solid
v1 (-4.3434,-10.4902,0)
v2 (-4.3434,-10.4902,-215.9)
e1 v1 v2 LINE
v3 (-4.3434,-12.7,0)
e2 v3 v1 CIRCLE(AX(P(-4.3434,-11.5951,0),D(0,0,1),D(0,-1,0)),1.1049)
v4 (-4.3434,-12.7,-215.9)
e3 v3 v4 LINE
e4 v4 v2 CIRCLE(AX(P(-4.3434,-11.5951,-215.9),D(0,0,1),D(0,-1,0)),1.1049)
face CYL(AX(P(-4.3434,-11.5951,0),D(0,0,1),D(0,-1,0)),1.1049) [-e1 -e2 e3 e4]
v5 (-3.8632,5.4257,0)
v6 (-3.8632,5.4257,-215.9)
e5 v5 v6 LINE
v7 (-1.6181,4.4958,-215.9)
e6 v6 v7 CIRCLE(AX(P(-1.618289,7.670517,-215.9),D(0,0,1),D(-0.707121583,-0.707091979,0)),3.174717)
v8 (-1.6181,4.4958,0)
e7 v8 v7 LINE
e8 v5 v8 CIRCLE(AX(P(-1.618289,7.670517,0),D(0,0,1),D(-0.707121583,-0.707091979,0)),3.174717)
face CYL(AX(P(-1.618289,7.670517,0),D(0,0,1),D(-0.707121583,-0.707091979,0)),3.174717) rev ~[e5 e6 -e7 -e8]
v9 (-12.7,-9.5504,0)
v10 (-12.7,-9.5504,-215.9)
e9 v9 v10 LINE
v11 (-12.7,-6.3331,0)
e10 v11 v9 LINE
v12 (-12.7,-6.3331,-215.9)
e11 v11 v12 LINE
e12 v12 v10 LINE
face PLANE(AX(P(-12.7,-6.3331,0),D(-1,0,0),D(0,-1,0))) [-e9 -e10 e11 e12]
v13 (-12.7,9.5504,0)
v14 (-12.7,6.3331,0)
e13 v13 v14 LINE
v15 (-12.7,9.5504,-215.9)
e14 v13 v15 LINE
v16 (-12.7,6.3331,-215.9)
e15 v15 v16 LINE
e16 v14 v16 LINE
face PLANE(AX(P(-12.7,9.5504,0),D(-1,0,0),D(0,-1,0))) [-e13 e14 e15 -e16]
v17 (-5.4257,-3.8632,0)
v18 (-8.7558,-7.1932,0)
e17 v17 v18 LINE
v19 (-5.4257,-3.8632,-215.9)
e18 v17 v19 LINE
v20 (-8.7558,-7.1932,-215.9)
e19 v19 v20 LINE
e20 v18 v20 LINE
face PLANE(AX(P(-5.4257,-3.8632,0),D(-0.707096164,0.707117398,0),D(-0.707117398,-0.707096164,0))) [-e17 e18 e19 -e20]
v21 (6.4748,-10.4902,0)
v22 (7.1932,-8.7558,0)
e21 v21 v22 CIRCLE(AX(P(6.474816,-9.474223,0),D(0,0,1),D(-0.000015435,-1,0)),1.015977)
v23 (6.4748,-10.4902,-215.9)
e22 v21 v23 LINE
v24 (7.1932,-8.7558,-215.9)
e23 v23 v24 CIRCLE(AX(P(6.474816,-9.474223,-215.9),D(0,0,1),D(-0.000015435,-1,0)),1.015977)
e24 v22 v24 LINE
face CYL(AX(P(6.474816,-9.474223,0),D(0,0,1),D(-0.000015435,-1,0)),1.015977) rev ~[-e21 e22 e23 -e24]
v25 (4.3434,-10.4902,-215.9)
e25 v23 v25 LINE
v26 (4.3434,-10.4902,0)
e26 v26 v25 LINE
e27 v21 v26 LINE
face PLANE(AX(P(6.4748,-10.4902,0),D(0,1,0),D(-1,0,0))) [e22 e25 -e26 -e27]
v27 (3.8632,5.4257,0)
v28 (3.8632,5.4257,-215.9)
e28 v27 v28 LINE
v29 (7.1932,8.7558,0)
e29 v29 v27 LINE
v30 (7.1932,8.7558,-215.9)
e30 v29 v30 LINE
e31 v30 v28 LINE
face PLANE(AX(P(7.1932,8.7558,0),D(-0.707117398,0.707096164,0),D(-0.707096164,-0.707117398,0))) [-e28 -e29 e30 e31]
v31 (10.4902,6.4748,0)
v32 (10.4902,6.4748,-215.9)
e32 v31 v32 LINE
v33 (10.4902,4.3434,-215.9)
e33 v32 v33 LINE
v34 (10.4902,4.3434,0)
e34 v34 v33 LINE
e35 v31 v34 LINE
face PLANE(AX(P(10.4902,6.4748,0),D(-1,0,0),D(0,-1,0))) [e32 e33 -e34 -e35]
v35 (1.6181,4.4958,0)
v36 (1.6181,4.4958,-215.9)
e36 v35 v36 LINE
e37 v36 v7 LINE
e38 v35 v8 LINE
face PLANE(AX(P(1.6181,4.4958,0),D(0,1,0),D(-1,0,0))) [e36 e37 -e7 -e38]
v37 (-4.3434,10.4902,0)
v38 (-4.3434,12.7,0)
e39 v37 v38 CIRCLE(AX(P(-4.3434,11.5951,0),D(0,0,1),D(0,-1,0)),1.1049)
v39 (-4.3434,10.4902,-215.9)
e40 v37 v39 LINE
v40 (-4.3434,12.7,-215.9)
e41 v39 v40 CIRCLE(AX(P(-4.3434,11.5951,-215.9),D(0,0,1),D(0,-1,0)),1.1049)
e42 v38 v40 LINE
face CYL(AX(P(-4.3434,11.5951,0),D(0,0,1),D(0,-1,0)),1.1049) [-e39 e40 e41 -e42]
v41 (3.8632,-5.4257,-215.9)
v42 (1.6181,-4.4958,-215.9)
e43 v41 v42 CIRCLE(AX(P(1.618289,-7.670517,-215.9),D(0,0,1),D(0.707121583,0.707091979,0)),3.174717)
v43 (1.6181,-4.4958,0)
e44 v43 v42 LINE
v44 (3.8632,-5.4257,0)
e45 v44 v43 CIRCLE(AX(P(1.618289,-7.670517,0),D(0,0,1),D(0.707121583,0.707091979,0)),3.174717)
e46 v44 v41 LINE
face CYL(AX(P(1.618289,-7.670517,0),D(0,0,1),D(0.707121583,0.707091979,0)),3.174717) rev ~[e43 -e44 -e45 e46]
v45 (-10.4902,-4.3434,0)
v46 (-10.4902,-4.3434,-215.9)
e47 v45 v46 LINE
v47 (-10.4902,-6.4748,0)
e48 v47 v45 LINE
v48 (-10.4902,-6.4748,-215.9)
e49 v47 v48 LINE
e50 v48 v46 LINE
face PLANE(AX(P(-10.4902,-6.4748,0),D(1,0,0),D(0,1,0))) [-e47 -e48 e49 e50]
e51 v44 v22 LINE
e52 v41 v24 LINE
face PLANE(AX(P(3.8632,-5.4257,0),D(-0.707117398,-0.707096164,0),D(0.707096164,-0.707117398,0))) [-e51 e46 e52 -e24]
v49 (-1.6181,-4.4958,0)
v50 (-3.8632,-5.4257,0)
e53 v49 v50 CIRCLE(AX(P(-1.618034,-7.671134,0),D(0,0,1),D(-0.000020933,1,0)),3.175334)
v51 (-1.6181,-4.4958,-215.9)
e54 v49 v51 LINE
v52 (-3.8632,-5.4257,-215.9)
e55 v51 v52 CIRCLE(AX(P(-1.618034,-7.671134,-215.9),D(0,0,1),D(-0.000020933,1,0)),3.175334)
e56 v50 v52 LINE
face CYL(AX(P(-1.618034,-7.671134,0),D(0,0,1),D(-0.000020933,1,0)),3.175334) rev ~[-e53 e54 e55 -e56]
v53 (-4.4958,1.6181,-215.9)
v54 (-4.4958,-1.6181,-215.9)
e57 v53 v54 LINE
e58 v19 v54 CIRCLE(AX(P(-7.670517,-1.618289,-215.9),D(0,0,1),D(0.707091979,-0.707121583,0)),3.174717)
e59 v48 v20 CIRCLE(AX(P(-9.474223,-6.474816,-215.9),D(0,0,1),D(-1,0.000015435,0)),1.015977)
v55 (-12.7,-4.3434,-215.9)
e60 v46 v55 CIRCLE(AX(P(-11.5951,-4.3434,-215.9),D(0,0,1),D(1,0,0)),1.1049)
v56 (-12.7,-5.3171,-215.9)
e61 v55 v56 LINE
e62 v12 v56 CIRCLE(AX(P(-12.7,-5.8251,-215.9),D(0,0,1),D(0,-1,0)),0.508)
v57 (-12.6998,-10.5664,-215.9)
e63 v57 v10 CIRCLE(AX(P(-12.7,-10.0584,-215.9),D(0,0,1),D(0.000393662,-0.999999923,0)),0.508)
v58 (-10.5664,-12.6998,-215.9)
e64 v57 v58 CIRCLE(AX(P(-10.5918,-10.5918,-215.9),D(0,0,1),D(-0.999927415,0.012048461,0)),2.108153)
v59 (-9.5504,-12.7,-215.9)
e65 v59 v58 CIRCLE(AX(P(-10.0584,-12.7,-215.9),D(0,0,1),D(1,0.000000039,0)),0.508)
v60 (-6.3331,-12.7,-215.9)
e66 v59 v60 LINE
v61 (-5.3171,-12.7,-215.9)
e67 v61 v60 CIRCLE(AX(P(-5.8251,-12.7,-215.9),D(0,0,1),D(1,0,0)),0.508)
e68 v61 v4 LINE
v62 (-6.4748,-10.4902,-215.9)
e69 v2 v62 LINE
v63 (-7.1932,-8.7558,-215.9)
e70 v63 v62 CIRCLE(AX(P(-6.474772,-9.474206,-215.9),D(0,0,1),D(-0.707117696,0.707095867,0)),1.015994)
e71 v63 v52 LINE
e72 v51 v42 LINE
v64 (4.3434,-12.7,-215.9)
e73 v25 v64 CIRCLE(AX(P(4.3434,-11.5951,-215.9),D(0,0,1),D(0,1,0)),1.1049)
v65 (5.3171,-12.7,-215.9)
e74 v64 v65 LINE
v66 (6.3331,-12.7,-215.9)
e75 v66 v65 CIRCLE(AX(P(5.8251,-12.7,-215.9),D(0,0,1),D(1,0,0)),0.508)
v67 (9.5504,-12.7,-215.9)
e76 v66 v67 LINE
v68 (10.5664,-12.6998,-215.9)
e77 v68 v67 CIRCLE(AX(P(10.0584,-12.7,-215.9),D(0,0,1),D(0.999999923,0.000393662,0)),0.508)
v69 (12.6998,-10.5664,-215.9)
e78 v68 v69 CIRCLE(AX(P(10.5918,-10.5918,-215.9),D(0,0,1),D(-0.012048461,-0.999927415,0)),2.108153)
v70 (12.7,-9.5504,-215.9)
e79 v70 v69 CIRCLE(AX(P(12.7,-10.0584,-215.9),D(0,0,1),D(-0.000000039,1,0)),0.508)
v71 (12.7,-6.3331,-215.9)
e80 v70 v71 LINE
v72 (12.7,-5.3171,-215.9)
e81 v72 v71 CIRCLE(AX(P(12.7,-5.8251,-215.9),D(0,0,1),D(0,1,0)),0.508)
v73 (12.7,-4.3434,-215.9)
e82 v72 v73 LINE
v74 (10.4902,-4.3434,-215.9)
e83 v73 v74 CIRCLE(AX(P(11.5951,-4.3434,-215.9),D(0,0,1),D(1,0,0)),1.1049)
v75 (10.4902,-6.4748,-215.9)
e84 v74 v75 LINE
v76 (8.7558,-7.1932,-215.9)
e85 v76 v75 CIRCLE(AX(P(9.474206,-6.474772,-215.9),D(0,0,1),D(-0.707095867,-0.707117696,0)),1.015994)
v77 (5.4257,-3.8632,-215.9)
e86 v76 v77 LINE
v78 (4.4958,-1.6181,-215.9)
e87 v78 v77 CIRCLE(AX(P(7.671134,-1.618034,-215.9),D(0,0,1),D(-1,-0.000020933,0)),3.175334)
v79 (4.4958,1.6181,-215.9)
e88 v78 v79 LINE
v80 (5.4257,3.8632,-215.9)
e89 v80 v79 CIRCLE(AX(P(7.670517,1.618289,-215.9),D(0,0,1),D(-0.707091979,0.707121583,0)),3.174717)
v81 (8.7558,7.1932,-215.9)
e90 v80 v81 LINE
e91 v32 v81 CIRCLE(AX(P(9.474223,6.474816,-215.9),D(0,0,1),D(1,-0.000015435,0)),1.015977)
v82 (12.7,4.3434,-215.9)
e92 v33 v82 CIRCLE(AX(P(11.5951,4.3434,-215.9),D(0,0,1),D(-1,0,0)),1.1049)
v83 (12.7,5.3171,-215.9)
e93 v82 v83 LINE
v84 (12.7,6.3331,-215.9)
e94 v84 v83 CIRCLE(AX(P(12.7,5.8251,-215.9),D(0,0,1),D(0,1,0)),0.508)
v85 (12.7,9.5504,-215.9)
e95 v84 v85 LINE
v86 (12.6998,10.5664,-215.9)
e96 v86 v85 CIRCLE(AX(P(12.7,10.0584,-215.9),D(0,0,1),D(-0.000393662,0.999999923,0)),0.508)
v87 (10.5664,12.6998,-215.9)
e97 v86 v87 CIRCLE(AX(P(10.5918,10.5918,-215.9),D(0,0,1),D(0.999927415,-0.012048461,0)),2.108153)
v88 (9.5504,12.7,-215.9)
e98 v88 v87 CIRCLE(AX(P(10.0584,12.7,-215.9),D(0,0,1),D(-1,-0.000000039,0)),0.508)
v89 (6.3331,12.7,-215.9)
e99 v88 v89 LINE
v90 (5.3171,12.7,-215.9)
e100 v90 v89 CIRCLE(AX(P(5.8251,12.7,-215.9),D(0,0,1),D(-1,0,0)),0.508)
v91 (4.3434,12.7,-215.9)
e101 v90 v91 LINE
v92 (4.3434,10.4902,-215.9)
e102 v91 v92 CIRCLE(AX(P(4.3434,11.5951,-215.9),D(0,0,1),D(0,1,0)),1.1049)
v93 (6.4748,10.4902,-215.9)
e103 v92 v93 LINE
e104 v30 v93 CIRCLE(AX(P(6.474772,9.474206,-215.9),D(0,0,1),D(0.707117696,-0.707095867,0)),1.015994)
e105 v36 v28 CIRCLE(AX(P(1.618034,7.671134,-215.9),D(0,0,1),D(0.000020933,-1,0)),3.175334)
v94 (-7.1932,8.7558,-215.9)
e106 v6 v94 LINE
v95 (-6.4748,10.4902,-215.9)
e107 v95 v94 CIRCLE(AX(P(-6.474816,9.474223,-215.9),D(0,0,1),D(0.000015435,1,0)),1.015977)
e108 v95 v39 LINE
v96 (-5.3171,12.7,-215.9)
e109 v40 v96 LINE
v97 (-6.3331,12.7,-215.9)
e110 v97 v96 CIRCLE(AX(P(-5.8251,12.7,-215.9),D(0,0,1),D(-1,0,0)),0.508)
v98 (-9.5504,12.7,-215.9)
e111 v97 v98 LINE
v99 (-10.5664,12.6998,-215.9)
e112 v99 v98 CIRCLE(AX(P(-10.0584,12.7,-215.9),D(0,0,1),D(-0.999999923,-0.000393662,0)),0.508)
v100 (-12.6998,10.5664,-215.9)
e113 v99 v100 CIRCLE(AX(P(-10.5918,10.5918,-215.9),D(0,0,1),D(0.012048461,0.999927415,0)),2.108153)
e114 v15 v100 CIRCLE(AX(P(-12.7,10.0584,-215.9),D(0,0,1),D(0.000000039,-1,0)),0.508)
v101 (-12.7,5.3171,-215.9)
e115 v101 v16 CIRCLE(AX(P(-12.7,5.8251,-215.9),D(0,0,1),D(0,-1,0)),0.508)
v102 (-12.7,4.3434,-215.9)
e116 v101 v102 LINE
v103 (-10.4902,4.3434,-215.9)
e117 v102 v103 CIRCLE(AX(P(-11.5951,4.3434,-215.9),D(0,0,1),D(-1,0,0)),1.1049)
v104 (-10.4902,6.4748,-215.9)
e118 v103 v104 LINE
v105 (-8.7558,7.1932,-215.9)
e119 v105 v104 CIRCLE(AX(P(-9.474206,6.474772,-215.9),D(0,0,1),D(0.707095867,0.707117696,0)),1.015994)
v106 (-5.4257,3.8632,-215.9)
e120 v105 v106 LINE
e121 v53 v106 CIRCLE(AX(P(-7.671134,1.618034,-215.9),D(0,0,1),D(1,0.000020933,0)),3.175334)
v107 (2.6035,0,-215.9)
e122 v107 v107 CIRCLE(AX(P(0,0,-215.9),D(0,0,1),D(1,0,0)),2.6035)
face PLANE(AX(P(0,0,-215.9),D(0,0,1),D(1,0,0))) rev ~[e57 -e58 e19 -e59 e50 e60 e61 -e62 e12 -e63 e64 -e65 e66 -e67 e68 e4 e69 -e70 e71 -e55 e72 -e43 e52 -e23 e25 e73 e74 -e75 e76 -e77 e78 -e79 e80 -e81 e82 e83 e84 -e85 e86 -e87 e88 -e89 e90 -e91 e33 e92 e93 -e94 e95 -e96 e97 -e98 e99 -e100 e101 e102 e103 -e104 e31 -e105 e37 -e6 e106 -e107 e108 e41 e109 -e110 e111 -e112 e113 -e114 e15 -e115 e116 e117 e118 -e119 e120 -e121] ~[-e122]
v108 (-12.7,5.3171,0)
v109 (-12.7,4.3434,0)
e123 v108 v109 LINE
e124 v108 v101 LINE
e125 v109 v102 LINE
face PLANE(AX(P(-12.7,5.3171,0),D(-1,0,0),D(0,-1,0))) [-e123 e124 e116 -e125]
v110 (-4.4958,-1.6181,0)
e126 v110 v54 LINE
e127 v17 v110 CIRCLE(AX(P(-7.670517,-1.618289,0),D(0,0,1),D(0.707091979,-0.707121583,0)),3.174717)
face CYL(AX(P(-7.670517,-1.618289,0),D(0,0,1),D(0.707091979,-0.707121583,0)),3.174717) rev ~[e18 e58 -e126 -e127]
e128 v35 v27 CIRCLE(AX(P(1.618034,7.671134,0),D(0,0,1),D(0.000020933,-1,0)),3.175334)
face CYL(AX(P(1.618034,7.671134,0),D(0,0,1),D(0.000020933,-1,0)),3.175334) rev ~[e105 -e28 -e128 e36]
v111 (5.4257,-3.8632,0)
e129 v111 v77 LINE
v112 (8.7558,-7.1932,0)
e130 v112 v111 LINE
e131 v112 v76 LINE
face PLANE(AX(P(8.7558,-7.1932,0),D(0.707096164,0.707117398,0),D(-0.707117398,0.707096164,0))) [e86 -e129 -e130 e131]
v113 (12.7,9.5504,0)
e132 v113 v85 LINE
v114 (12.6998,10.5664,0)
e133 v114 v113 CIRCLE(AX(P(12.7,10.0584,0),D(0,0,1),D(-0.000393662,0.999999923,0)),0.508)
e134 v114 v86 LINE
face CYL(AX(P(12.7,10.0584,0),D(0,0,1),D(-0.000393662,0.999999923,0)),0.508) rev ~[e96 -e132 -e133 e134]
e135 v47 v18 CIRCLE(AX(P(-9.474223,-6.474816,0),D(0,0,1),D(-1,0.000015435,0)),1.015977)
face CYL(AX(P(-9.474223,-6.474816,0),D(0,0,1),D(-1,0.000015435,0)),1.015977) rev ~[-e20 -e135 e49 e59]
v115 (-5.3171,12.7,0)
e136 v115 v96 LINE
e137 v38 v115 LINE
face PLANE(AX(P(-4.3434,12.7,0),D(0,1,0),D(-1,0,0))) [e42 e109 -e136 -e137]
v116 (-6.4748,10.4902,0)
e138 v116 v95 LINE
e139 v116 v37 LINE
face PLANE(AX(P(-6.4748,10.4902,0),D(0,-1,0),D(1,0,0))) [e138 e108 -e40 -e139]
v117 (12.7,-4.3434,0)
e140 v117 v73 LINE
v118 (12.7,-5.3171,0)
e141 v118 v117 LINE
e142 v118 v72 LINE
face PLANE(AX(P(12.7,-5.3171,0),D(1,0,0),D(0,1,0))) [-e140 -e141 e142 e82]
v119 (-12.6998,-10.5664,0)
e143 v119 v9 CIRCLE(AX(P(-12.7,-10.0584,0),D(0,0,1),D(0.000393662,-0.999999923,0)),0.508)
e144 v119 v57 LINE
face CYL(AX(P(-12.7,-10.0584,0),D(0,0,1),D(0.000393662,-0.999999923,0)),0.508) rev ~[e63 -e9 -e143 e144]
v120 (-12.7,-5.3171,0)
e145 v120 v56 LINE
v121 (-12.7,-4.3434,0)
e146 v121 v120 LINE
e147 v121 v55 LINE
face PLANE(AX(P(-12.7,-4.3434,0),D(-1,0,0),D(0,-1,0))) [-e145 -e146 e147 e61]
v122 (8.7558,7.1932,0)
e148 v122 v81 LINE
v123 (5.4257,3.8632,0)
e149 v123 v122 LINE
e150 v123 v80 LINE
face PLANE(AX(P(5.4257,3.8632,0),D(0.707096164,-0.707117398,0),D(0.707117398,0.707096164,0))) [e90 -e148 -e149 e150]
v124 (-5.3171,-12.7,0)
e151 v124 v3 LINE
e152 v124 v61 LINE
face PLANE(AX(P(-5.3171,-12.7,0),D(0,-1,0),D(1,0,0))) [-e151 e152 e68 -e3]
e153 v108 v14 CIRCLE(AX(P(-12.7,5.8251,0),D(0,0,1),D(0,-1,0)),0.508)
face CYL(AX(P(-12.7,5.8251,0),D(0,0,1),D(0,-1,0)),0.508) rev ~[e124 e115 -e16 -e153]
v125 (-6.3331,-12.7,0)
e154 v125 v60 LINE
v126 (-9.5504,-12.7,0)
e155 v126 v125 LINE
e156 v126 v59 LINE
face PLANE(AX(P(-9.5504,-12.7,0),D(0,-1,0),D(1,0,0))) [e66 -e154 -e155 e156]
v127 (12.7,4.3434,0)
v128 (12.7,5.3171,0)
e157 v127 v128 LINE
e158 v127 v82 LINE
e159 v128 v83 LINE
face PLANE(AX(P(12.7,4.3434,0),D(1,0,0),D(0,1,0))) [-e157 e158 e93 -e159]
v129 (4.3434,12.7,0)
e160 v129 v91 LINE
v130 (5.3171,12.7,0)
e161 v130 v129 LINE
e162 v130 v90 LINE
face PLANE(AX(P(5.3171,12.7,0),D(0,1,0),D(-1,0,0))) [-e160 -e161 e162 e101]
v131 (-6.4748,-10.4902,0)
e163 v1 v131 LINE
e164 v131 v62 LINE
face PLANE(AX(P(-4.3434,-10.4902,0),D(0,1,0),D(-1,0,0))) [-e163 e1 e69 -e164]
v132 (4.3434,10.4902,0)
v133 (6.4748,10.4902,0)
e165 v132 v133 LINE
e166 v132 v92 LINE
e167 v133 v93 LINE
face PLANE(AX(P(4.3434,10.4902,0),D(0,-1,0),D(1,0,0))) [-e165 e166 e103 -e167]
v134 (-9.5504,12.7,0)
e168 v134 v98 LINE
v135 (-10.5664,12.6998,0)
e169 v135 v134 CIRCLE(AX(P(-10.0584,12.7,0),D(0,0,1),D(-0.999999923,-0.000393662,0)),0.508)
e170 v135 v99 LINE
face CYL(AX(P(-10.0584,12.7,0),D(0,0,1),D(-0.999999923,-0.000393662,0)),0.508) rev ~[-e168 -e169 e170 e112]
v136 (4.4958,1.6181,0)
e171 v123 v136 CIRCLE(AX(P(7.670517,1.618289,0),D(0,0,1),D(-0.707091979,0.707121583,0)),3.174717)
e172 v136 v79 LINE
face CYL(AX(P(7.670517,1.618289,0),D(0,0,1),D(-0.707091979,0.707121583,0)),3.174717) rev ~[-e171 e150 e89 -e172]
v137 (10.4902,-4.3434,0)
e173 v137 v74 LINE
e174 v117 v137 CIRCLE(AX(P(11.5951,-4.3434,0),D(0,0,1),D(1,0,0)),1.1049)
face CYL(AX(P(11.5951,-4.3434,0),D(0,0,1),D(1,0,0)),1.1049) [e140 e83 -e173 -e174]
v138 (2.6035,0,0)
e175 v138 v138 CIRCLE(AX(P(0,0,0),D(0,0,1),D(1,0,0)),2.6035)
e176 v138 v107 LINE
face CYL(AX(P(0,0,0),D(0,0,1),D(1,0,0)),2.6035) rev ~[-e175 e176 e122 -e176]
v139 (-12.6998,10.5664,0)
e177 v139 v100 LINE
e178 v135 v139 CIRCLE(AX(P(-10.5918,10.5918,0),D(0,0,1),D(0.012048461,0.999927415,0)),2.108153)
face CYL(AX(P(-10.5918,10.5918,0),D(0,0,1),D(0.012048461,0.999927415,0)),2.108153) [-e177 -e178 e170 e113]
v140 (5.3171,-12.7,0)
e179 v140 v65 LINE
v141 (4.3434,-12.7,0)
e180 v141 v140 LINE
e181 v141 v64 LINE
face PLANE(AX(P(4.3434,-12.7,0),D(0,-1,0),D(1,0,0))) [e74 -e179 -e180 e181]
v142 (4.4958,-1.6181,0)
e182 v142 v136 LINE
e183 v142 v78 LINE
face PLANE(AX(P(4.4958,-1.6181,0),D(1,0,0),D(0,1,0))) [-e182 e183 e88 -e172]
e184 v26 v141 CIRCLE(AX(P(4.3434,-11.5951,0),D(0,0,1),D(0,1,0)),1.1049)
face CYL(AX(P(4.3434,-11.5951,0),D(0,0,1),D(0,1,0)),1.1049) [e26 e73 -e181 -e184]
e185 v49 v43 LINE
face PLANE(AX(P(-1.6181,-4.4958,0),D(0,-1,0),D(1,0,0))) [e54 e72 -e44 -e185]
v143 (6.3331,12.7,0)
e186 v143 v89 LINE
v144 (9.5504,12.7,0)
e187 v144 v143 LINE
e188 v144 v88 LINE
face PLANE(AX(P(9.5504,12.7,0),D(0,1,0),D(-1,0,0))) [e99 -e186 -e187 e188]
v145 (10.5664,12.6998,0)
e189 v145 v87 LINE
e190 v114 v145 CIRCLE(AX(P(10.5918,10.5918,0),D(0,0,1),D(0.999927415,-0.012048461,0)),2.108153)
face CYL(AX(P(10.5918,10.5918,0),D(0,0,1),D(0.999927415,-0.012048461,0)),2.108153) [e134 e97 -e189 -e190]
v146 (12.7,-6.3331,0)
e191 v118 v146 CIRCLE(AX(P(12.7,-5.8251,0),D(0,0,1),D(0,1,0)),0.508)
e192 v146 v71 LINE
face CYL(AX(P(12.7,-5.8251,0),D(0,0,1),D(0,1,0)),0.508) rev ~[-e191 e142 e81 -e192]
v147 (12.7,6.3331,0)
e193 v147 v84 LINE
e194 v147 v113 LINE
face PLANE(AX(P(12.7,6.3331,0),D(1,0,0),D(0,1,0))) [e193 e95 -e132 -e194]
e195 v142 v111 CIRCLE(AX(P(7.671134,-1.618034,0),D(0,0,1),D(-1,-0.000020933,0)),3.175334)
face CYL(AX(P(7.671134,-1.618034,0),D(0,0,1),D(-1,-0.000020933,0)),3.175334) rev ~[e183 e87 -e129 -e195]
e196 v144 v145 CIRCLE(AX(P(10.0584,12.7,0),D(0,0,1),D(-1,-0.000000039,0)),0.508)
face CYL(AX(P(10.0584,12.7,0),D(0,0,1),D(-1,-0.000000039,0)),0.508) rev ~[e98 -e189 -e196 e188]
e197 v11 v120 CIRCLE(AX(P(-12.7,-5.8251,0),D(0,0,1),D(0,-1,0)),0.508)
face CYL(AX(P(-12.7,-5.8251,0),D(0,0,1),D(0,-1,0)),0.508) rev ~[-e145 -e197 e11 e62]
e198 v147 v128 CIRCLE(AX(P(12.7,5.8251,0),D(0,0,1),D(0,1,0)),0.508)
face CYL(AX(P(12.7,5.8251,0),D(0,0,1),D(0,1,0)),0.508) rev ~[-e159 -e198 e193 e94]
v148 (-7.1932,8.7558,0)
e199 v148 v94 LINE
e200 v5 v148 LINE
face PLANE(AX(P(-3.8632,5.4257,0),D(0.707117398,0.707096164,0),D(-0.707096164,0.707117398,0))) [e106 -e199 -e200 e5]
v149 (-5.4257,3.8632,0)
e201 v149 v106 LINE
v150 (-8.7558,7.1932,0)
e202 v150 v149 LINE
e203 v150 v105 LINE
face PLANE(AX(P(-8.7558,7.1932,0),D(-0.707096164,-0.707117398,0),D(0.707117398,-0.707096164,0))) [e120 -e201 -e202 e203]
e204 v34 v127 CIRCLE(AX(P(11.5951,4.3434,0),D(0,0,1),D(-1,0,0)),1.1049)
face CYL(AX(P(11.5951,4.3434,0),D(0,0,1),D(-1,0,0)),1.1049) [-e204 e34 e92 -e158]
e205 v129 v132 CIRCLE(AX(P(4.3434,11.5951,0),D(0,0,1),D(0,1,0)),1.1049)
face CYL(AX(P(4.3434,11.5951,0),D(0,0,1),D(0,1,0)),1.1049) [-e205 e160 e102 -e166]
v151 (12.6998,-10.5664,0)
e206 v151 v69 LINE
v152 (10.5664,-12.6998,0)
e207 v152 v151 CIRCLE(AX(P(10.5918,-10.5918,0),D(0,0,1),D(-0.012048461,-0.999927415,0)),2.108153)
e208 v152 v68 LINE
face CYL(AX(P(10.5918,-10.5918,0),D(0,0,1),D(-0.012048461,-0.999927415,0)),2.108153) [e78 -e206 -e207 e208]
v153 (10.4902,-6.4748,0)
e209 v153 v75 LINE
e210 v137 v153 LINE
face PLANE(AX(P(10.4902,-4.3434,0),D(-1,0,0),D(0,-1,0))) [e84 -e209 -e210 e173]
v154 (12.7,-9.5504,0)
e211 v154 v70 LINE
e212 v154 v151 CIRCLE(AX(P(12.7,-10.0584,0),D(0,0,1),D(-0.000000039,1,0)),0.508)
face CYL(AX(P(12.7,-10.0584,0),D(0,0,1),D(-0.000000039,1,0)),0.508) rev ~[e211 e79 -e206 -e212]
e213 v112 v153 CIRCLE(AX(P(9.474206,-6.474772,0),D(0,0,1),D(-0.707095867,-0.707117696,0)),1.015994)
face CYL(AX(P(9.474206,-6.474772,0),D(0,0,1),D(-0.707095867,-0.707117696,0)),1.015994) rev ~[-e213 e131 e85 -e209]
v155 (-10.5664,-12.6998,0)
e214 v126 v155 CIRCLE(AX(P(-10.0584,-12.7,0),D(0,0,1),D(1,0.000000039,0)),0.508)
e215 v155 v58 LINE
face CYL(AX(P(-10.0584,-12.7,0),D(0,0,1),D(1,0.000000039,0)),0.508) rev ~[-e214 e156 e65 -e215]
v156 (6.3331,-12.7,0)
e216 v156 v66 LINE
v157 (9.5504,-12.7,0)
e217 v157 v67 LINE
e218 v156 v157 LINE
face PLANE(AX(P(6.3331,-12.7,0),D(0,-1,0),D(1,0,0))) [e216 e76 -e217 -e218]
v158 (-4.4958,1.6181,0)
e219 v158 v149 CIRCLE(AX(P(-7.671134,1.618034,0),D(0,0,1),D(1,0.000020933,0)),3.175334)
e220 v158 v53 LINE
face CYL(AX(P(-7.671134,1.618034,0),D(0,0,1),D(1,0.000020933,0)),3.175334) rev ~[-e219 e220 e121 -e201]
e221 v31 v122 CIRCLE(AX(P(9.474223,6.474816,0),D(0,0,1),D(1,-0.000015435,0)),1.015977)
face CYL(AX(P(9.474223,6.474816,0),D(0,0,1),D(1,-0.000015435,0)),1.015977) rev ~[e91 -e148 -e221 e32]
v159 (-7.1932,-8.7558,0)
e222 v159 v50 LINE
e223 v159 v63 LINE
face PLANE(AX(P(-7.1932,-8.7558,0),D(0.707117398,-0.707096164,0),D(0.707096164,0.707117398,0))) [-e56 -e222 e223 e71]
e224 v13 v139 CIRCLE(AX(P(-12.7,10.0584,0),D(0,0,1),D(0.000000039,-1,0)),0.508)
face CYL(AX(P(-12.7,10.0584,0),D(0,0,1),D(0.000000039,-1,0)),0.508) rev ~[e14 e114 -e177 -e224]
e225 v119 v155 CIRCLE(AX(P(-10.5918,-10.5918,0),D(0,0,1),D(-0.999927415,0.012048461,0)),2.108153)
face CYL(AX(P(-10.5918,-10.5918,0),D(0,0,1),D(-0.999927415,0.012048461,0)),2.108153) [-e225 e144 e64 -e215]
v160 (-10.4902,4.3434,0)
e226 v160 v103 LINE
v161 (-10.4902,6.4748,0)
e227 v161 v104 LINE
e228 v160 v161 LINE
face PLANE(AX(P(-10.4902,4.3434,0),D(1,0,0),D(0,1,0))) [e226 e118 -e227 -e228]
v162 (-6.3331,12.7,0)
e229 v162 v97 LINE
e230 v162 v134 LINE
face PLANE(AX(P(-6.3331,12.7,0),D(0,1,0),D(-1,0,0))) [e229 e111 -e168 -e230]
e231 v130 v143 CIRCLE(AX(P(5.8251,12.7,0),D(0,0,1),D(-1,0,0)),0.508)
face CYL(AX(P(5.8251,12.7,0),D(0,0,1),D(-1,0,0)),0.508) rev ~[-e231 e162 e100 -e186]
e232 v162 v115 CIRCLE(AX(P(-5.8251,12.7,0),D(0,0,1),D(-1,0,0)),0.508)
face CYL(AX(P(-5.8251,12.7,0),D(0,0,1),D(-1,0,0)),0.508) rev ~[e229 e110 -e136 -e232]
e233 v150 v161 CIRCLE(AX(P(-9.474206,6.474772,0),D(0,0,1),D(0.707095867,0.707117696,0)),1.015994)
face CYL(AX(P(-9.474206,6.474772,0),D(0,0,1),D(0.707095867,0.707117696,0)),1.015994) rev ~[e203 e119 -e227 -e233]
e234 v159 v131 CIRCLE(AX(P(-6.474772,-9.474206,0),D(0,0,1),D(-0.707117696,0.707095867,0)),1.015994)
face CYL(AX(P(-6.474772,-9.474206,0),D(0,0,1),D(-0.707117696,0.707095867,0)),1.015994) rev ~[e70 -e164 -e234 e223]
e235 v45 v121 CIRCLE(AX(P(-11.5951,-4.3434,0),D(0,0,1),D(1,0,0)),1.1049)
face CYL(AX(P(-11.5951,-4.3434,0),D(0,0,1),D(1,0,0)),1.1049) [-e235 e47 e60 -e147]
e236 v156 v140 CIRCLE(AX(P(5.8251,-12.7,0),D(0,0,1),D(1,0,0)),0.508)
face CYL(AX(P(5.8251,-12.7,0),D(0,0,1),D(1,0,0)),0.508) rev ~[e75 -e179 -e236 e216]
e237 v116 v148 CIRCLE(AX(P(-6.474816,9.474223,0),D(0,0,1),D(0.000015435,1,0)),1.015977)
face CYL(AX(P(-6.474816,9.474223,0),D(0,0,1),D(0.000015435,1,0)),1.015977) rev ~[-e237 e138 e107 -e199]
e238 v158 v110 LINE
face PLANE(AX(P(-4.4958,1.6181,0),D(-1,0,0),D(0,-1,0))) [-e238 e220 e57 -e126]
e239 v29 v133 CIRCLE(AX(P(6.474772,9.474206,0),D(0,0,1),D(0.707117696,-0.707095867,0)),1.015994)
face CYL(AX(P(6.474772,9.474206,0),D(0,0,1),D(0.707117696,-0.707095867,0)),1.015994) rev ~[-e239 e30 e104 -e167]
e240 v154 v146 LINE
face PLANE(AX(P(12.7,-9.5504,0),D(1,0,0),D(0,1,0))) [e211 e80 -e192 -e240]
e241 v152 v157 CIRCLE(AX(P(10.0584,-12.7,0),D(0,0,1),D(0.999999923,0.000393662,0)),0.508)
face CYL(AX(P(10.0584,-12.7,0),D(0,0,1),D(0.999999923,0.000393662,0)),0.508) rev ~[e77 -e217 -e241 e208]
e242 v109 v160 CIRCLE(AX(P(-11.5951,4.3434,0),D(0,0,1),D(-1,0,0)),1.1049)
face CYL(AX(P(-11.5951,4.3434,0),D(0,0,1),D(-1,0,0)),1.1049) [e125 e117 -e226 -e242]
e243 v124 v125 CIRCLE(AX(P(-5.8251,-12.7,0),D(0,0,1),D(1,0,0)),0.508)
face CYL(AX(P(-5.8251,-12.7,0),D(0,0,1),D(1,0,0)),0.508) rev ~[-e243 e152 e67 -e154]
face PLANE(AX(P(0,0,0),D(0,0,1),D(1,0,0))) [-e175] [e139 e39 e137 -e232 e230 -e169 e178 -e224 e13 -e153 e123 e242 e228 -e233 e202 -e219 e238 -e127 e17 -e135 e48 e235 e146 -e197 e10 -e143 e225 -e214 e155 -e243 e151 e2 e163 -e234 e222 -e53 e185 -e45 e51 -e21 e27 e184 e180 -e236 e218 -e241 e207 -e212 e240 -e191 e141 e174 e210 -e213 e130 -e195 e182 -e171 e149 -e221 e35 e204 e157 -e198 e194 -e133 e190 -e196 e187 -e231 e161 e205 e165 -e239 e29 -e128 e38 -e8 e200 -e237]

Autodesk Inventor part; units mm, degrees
sketch "Sketch_1" plane through (0, 0, 0) normal (0, 0, 1) x (1, 0, 0)
  arc A0 (-12.6998, -10.5664) -> (-10.5664, -12.6998) centre (-10.5918, -10.5918) ccw
  arc A1 (-9.5504, -12.7) -> (-10.5664, -12.6998) centre (-10.0584, -12.7) ccw
  line L0 (-9.5504, -12.7) -> (-6.3331, -12.7)
  arc A2 (-5.3171, -12.7) -> (-6.3331, -12.7) centre (-5.8251, -12.7) ccw
  line L1 (-5.3171, -12.7) -> (-4.3434, -12.7)
  arc A3 (-4.3434, -12.7) -> (-4.3434, -10.4902) centre (-4.3434, -11.5951) ccw
  line L2 (-4.3434, -10.4902) -> (-6.4748, -10.4902)
  arc A4 (-7.1932, -8.7558) -> (-6.4748, -10.4902) centre (-6.4748, -9.4742) ccw
  line L3 (-7.1932, -8.7558) -> (-3.8632, -5.4257)
  arc A5 (-1.6181, -4.4958) -> (-3.8632, -5.4257) centre (-1.6181, -7.6708) ccw
  line L4 (-1.6181, -4.4958) -> (1.6181, -4.4958)
  arc A6 (3.8632, -5.4257) -> (1.6181, -4.4958) centre (1.6181, -7.6708) ccw
  line L5 (3.8632, -5.4257) -> (7.1932, -8.7558)
  arc A7 (6.4748, -10.4902) -> (7.1932, -8.7558) centre (6.4748, -9.4742) ccw
  line L6 (6.4748, -10.4902) -> (4.3434, -10.4902)
  arc A8 (4.3434, -10.4902) -> (4.3434, -12.7) centre (4.3434, -11.5951) ccw
  line L7 (4.3434, -12.7) -> (5.3171, -12.7)
  arc A9 (6.3331, -12.7) -> (5.3171, -12.7) centre (5.8251, -12.7) ccw
  line L8 (6.3331, -12.7) -> (9.5504, -12.7)
  arc A10 (10.5664, -12.6998) -> (9.5504, -12.7) centre (10.0584, -12.7) ccw
  arc A11 (10.5664, -12.6998) -> (12.6998, -10.5664) centre (10.5918, -10.5918) ccw
  arc A12 (12.7, -9.5504) -> (12.6998, -10.5664) centre (12.7, -10.0584) ccw
  line L9 (12.7, -9.5504) -> (12.7, -6.3331)
  arc A13 (12.7, -5.3171) -> (12.7, -6.3331) centre (12.7, -5.8251) ccw
  line L10 (12.7, -5.3171) -> (12.7, -4.3434)
  arc A14 (12.7, -4.3434) -> (10.4902, -4.3434) centre (11.5951, -4.3434) ccw
  line L11 (10.4902, -4.3434) -> (10.4902, -6.4748)
  arc A15 (8.7558, -7.1932) -> (10.4902, -6.4748) centre (9.4742, -6.4748) ccw
  line L12 (8.7558, -7.1932) -> (5.4257, -3.8632)
  arc A16 (4.4958, -1.6181) -> (5.4257, -3.8632) centre (7.6708, -1.6181) ccw
  line L13 (4.4958, -1.6181) -> (4.4958, 1.6181)
  arc A17 (5.4257, 3.8632) -> (4.4958, 1.6181) centre (7.6708, 1.6181) ccw
  line L14 (5.4257, 3.8632) -> (8.7558, 7.1932)
  arc A18 (10.4902, 6.4748) -> (8.7558, 7.1932) centre (9.4742, 6.4748) ccw
  line L15 (10.4902, 6.4748) -> (10.4902, 4.3434)
  arc A19 (10.4902, 4.3434) -> (12.7, 4.3434) centre (11.5951, 4.3434) ccw
  line L16 (12.7, 4.3434) -> (12.7, 5.3171)
  arc A20 (12.7, 6.3331) -> (12.7, 5.3171) centre (12.7, 5.8251) ccw
  line L17 (12.7, 6.3331) -> (12.7, 9.5504)
  arc A21 (12.6998, 10.5664) -> (12.7, 9.5504) centre (12.7, 10.0584) ccw
  arc A22 (12.6998, 10.5664) -> (10.5664, 12.6998) centre (10.5918, 10.5918) ccw
  arc A23 (9.5504, 12.7) -> (10.5664, 12.6998) centre (10.0584, 12.7) ccw
  line L18 (9.5504, 12.7) -> (6.3331, 12.7)
  arc A24 (5.3171, 12.7) -> (6.3331, 12.7) centre (5.8251, 12.7) ccw
  line L19 (5.3171, 12.7) -> (4.3434, 12.7)
  arc A25 (4.3434, 12.7) -> (4.3434, 10.4902) centre (4.3434, 11.5951) ccw
  line L20 (4.3434, 10.4902) -> (6.4748, 10.4902)
  arc A26 (7.1932, 8.7558) -> (6.4748, 10.4902) centre (6.4748, 9.4742) ccw
  line L21 (7.1932, 8.7558) -> (3.8632, 5.4257)
  arc A27 (1.6181, 4.4958) -> (3.8632, 5.4257) centre (1.6181, 7.6708) ccw
  line L22 (1.6181, 4.4958) -> (-1.6181, 4.4958)
  arc A28 (-3.8632, 5.4257) -> (-1.6181, 4.4958) centre (-1.6181, 7.6708) ccw
  line L23 (-3.8632, 5.4257) -> (-7.1932, 8.7558)
  arc A29 (-6.4748, 10.4902) -> (-7.1932, 8.7558) centre (-6.4748, 9.4742) ccw
  line L24 (-6.4748, 10.4902) -> (-4.3434, 10.4902)
  arc A30 (-4.3434, 10.4902) -> (-4.3434, 12.7) centre (-4.3434, 11.5951) ccw
  line L25 (-4.3434, 12.7) -> (-5.3171, 12.7)
  arc A31 (-6.3331, 12.7) -> (-5.3171, 12.7) centre (-5.8251, 12.7) ccw
  line L26 (-6.3331, 12.7) -> (-9.5504, 12.7)
  arc A32 (-10.5664, 12.6998) -> (-9.5504, 12.7) centre (-10.0584, 12.7) ccw
  arc A33 (-10.5664, 12.6998) -> (-12.6998, 10.5664) centre (-10.5918, 10.5918) ccw
  arc A34 (-12.7, 9.5504) -> (-12.6998, 10.5664) centre (-12.7, 10.0584) ccw
  line L27 (-12.7, 9.5504) -> (-12.7, 6.3331)
  arc A35 (-12.7, 5.3171) -> (-12.7, 6.3331) centre (-12.7, 5.8251) ccw
  line L28 (-12.7, 5.3171) -> (-12.7, 4.3434)
  arc A36 (-12.7, 4.3434) -> (-10.4902, 4.3434) centre (-11.5951, 4.3434) ccw
  line L29 (-10.4902, 4.3434) -> (-10.4902, 6.4748)
  arc A37 (-8.7558, 7.1932) -> (-10.4902, 6.4748) centre (-9.4742, 6.4748) ccw
  line L30 (-8.7558, 7.1932) -> (-5.4257, 3.8632)
  arc A38 (-4.4958, 1.6181) -> (-5.4257, 3.8632) centre (-7.6708, 1.6181) ccw
  line L31 (-4.4958, 1.6181) -> (-4.4958, -1.6181)
  arc A39 (-5.4257, -3.8632) -> (-4.4958, -1.6181) centre (-7.6708, -1.6181) ccw
  line L32 (-5.4257, -3.8632) -> (-8.7558, -7.1932)
  arc A40 (-10.4902, -6.4748) -> (-8.7558, -7.1932) centre (-9.4742, -6.4748) ccw
  line L33 (-10.4902, -6.4748) -> (-10.4902, -4.3434)
  arc A41 (-10.4902, -4.3434) -> (-12.7, -4.3434) centre (-11.5951, -4.3434) ccw
  line L34 (-12.7, -4.3434) -> (-12.7, -5.3171)
  arc A42 (-12.7, -6.3331) -> (-12.7, -5.3171) centre (-12.7, -5.8251) ccw
  line L35 (-12.7, -6.3331) -> (-12.7, -9.5504)
  arc A43 (-12.6998, -10.5664) -> (-12.7, -9.5504) centre (-12.7, -10.0584) ccw
  circle A44 centre (0, 0) radius 2.6035
extrude "Extrusion1" add sketch "Sketch_1" against normal blind 215.9
ref_plane "b1_XY" through (-12.7, 0, -107.95) normal (1, 0, 0) x (0, 0, -1)
ref_plane "b1_YZ" through (-12.7, 0, -107.95) normal (0, 0, -1) x (0, 1, 0)
ref_plane "b1_ZX" through (-12.7, 0, -107.95) normal (0, 1, 0) x (1, 0, 0)
ref_plane "b2_XY" through (12.7, 0, -107.95) normal (1, 0, 0) x (0, 0, -1)
ref_plane "b2_YZ" through (12.7, 0, -107.95) normal (0, 0, -1) x (0, 1, 0)
ref_plane "b2_ZX" through (12.7, 0, -107.95) normal (0, 1, 0) x (1, 0, 0)
ref_plane "profile1010_XY" through (0, 0, -107.95) normal (0, 0, 1) x (1, 0, 0)
ref_plane "profile1010_YZ" through (0, 0, -107.95) normal (1, 0, 0) x (0, 1, 0)
ref_plane "profile1010_ZX" through (0, 0, -107.95) normal (0, 1, 0) x (0, 0, 1)
properties part number "1010-Yellow-8.5-CL"
